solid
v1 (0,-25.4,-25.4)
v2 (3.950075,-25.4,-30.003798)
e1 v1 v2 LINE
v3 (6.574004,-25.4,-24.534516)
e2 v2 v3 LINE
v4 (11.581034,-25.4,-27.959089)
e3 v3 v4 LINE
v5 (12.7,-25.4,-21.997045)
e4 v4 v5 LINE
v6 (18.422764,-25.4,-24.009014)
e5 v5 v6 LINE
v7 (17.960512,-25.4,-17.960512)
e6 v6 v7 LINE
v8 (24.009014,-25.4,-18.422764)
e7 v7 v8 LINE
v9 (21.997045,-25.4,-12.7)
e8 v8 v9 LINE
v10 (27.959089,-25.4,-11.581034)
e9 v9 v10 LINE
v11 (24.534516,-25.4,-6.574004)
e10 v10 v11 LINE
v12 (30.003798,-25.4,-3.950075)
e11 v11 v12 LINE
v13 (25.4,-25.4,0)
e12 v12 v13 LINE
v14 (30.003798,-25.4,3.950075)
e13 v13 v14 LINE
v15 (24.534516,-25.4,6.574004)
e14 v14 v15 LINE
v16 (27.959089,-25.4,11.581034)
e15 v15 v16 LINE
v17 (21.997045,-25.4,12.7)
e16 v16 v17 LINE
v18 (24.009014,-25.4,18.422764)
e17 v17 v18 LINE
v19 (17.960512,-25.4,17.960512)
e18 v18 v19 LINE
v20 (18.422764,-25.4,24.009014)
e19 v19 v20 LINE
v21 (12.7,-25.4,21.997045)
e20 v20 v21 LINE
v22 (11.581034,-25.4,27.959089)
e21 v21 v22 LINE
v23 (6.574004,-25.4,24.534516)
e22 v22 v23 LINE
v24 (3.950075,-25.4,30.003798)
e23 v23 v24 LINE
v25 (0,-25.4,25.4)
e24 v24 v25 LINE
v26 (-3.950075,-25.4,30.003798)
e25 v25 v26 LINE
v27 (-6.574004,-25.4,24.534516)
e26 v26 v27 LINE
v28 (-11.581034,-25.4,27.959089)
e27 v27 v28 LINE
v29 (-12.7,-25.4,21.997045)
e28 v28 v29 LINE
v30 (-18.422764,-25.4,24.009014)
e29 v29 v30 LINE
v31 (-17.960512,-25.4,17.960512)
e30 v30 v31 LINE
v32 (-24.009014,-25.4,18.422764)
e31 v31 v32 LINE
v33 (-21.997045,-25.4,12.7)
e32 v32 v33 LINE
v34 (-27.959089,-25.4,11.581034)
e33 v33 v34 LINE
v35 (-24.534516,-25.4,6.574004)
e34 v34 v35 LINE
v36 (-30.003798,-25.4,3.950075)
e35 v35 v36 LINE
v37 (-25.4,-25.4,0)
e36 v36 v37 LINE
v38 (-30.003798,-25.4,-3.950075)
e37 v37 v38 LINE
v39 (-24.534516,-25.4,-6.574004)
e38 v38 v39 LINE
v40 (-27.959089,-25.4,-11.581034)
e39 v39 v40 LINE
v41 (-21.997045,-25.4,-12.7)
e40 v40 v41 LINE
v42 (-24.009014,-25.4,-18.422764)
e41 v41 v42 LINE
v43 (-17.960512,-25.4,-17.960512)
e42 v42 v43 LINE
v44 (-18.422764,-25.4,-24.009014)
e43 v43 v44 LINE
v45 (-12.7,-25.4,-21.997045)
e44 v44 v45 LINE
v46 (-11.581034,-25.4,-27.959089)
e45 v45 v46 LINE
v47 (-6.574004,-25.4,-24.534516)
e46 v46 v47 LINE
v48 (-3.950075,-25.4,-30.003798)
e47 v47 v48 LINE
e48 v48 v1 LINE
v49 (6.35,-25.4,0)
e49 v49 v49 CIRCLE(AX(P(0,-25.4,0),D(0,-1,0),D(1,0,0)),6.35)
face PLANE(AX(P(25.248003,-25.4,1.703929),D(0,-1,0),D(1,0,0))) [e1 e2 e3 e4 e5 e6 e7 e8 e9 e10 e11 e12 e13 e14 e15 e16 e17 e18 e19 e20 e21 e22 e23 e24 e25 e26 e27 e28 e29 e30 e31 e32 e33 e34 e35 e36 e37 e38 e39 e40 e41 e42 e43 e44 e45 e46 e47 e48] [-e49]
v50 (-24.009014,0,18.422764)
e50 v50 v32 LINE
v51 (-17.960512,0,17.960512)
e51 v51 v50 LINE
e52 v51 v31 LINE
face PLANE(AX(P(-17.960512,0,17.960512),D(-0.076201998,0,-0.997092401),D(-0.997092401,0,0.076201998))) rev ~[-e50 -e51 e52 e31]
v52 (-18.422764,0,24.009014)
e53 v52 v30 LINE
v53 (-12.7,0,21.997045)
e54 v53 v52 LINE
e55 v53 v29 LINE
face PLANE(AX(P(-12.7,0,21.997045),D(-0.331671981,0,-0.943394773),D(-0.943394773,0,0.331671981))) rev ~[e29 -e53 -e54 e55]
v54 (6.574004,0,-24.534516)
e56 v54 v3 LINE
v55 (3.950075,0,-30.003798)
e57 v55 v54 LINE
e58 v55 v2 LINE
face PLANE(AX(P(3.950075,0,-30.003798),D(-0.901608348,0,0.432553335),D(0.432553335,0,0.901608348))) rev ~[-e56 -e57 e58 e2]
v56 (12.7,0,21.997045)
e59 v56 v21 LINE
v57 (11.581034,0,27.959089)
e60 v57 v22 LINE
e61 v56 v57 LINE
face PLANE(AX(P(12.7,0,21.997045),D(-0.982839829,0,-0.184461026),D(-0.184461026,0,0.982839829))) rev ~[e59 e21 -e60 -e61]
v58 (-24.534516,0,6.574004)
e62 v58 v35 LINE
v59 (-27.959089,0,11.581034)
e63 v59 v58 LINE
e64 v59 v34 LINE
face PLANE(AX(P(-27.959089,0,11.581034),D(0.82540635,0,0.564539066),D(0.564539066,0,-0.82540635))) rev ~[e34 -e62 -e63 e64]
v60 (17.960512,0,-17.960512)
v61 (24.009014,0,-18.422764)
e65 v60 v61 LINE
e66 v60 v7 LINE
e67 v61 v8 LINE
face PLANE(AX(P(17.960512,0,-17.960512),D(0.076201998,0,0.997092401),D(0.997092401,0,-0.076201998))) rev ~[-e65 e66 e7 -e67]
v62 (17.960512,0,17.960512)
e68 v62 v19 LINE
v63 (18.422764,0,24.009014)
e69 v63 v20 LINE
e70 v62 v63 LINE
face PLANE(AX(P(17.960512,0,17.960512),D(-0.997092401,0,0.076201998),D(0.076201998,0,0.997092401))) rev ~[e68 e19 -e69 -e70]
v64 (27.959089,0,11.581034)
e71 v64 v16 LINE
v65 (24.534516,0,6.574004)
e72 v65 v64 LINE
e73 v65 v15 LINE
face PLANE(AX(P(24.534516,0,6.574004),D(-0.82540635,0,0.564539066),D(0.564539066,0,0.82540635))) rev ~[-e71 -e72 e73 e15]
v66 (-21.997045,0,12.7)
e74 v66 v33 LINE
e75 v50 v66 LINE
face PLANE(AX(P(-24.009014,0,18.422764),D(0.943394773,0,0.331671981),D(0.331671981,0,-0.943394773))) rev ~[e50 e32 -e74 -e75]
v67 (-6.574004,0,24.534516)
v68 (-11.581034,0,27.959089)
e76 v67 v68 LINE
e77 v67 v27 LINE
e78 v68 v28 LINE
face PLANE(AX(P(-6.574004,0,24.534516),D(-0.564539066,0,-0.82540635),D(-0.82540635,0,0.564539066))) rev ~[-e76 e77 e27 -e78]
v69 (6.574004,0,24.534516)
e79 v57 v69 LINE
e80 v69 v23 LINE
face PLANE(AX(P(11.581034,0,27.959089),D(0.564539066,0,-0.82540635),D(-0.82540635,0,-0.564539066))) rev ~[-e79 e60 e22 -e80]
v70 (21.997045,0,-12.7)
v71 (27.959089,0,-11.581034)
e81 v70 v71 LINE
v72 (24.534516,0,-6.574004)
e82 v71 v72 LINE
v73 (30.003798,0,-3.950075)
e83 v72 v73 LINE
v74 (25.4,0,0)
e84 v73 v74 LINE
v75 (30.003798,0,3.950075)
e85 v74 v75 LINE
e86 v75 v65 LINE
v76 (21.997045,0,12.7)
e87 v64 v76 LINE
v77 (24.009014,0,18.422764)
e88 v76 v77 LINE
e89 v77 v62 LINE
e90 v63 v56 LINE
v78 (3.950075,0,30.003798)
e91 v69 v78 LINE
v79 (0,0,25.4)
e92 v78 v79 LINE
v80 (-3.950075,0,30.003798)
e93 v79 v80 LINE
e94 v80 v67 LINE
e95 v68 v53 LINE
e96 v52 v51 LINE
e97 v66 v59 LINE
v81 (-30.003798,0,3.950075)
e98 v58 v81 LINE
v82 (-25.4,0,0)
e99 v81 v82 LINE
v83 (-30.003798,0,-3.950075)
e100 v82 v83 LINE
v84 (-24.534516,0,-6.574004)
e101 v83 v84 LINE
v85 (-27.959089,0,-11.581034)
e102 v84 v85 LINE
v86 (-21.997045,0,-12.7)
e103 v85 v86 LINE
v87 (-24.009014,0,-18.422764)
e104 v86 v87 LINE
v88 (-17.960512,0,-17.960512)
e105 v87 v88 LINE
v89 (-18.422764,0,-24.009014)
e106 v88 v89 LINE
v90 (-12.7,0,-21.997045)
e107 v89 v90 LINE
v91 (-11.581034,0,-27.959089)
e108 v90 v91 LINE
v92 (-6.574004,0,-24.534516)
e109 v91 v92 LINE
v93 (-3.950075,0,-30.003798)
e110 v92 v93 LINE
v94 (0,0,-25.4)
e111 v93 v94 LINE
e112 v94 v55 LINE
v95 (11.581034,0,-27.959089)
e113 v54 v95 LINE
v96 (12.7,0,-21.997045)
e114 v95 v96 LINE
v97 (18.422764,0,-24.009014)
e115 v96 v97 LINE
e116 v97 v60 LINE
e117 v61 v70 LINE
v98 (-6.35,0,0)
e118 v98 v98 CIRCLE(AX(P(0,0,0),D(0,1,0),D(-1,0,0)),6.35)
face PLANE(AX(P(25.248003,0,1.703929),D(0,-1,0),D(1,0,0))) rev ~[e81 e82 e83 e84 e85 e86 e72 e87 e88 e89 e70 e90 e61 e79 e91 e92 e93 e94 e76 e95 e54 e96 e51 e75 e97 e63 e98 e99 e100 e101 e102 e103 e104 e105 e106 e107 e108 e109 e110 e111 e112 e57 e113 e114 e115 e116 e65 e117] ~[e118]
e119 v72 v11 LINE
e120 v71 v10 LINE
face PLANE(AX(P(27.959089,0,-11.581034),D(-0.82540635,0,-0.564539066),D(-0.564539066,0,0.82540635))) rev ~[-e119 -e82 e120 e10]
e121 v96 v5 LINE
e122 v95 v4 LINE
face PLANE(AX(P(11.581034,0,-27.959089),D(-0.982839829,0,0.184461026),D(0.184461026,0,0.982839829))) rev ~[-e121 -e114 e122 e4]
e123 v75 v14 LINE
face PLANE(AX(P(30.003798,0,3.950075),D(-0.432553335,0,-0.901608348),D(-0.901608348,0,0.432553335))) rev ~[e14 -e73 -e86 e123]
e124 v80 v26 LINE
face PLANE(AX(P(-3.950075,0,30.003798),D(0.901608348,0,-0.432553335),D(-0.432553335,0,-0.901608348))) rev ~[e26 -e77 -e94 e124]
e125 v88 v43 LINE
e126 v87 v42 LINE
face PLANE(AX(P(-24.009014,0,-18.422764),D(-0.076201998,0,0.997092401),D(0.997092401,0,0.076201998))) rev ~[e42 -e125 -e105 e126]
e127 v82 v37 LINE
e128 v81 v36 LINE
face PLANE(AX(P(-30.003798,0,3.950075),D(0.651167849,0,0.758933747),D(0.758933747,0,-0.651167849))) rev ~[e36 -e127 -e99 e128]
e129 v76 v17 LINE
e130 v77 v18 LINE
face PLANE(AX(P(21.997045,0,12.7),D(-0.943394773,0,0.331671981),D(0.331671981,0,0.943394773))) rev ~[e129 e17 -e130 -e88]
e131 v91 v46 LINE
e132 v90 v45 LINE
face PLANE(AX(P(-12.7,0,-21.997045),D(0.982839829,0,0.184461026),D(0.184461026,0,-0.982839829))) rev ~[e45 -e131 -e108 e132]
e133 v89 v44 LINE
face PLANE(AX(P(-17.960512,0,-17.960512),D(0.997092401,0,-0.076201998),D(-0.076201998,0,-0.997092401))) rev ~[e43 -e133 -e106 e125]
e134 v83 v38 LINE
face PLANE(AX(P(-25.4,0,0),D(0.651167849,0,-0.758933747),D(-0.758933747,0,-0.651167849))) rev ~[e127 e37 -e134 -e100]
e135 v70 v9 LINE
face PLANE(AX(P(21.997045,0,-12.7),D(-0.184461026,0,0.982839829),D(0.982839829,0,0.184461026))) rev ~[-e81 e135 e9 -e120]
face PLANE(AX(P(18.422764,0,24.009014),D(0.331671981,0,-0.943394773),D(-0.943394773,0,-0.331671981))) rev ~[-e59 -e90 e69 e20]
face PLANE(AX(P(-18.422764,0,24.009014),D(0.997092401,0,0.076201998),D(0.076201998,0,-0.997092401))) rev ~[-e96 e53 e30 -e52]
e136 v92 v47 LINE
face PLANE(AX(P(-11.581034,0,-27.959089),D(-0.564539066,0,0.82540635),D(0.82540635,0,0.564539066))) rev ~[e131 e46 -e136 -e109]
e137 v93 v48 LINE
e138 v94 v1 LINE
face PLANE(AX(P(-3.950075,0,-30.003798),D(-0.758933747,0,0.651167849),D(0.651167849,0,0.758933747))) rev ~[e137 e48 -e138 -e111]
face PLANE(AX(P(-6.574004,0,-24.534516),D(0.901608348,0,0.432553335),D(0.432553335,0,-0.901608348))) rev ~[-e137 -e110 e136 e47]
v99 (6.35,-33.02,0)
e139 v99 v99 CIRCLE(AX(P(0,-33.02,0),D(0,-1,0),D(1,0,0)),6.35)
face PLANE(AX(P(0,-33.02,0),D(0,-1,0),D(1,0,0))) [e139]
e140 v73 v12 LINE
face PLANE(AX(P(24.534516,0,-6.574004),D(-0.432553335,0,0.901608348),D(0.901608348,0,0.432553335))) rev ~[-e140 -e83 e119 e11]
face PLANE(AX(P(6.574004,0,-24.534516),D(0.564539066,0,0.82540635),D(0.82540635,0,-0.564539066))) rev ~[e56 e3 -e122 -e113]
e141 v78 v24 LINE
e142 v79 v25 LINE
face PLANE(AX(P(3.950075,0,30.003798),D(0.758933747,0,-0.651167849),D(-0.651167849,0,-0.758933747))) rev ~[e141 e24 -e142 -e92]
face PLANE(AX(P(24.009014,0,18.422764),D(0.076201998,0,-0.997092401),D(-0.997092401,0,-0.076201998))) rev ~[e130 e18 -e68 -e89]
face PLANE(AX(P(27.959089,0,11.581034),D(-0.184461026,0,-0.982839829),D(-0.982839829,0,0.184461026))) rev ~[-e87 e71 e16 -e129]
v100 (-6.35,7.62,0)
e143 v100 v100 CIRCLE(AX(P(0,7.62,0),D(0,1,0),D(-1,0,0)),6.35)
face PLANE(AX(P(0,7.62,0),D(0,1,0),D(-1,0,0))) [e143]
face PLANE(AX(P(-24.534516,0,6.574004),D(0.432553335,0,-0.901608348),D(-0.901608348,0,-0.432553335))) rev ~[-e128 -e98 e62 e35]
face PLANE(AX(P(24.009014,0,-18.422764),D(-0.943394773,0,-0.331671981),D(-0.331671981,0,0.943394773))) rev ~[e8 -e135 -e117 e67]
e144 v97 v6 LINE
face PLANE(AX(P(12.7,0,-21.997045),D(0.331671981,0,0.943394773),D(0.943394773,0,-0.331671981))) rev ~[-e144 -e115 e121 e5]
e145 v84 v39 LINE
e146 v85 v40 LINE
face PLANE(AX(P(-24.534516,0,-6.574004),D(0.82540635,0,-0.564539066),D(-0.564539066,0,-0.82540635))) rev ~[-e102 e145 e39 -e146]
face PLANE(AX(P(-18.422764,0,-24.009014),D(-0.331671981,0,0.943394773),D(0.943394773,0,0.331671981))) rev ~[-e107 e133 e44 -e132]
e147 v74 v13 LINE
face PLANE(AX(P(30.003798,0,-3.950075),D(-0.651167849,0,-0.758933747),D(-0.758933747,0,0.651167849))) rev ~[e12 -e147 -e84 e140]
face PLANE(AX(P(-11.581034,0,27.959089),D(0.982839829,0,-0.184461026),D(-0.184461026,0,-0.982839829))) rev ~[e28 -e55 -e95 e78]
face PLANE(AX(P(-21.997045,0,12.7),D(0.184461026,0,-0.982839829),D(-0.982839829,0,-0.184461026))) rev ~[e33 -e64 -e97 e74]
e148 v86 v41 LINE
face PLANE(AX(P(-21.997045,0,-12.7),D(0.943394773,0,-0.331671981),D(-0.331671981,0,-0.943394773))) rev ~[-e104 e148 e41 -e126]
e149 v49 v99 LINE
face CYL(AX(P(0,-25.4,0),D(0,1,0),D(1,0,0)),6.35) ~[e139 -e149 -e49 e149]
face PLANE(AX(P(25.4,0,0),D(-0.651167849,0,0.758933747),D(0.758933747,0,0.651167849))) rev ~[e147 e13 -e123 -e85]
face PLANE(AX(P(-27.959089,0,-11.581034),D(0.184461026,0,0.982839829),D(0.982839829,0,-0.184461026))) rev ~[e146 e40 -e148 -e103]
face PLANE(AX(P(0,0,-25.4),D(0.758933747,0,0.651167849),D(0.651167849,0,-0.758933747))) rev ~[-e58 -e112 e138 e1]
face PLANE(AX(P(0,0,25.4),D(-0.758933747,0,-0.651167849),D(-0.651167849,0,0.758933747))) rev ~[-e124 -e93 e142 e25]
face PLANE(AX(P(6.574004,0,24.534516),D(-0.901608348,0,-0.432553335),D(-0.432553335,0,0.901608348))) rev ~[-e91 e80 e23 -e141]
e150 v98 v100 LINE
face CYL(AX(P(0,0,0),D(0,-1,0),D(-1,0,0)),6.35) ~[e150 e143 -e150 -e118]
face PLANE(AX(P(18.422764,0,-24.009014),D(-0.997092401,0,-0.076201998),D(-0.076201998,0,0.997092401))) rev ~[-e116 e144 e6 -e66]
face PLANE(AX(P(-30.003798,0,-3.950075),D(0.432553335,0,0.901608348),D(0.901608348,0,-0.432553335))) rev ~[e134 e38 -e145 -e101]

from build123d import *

# Parameters (mm, degrees)
F1_DEPTH = 25.4
F2_R     = 6.35
F3_DEPTH = 7.62
F4_R     = 6.35
F5_DEPTH = 7.62


with BuildPart() as f1:
    # F0 (on Front) → F1 (new body)
    with BuildSketch(Plane.XZ):
        with BuildLine():
            Line((24.9672579939, 3.2870018728), (25.4, 0))
            ThreePointArc((25.4, 0), (25.3456166503, 1.6612394824), (25.1826994789, 3.3153652824))
            Line((25.1826994789, 3.3153652824), (24.9672579939, 3.2870018728))
        make_face()
        with BuildLine():
            Line((30.0037978897, -3.9500749293), (25.4, 0))
            ThreePointArc((25.4, 0), (25.3456166503, -1.6612394824), (25.1826994789, -3.3153652824))
            Line((25.1826994789, -3.3153652824), (30.0037978897, -3.9500749293))
        make_face()
        Polygon((24.9672579939, -3.2870018728), (25.4, 0), (0, 0), (24.5345159877, -6.5740037456), align=None)
        with BuildLine():
            ThreePointArc((25.1826994789, -3.3153652824), (25.3456166503, -1.6612394824), (25.4, 0))
            Line((25.4, 0), (24.9672579939, -3.2870018728))
            Line((24.9672579939, -3.2870018728), (25.1826994789, -3.3153652824))
        make_face()
        Polygon((0, 0), (25.4, 0), (24.9672579939, 3.2870018728), (24.5345159877, 6.5740037456), align=None)
        with BuildLine():
            ThreePointArc((25.1826994789, 3.3153652824), (25.3456166503, 1.6612394824), (25.4, 0))
            Line((25.4, 0), (30.0037978897, 3.9500749293))
            Line((30.0037978897, 3.9500749293), (25.1826994789, 3.3153652824))
        make_face()
        with BuildLine():
            Line((24.9672579939, 3.2870018728), (25.1826994789, 3.3153652824))
            ThreePointArc((25.1826994789, 3.3153652824), (24.9119461222, 4.9552941792), (24.5345159877, 6.5740037456))
            Line((24.5345159877, 6.5740037456), (24.9672579939, 3.2870018728))
        make_face()
        with BuildLine():
            ThreePointArc((24.5345159877, 6.5740037456), (24.9119461222, 4.9552941792), (25.1826994789, 3.3153652824))
            Line((25.1826994789, 3.3153652824), (30.0037978897, 3.9500749293))
            Line((30.0037978897, 3.9500749293), (24.5345159877, 6.5740037456))
        make_face()
        with BuildLine():
            Line((30.0037978897, -3.9500749293), (25.1826994789, -3.3153652824))
            ThreePointArc((25.1826994789, -3.3153652824), (24.9119461222, -4.9552941792), (24.5345159877, -6.5740037456))
            Line((24.5345159877, -6.5740037456), (30.0037978897, -3.9500749293))
        make_face()
        with BuildLine():
            ThreePointArc((24.5345159877, -6.5740037456), (24.9119461222, -4.9552941792), (25.1826994789, -3.3153652824))
            Line((25.1826994789, -3.3153652824), (24.9672579939, -3.2870018728))
            Line((24.9672579939, -3.2870018728), (24.5345159877, -6.5740037456))
        make_face()
        Polygon((-6.5740037456, 24.5345159877), (0, 0), (0, 25.4), (-3.2870018728, 24.9672579939), align=None)
        Polygon((-24.5345159877, -6.5740037456), (0, 0), (-25.4, 0), (-24.9672579939, -3.2870018728), align=None)
        Polygon((6.5740037456, -24.5345159877), (0, 0), (0, -25.4), (3.2870018728, -24.9672579939), align=None)
        Polygon((21.9970452561, 12.7), (0, 0), (24.5345159877, 6.5740037456), (23.2657806219, 9.6370018728), align=None)
        Polygon((17.9605122421, 17.9605122421), (0, 0), (21.9970452561, 12.7), (19.9787787491, 15.3302561211), align=None)
        Polygon((12.7, 21.9970452561), (0, 0), (17.9605122421, 17.9605122421), (15.3302561211, 19.9787787491), align=None)
        Polygon((6.5740037456, 24.5345159877), (0, 0), (12.7, 21.9970452561), (9.6370018728, 23.2657806219), align=None)
        Polygon((0, 25.4), (0, 0), (6.5740037456, 24.5345159877), (3.2870018728, 24.9672579939), align=None)
        Polygon((0, -25.4), (0, 0), (-6.5740037456, -24.5345159877), (-3.2870018728, -24.9672579939), align=None)
        Polygon((24.5345159877, -6.5740037456), (0, 0), (21.9970452561, -12.7), (23.2657806219, -9.6370018728), align=None)
        Polygon((21.9970452561, -12.7), (0, 0), (17.9605122421, -17.9605122421), (19.9787787491, -15.3302561211), align=None)
        Polygon((17.9605122421, -17.9605122421), (0, 0), (12.7, -21.9970452561), (15.3302561211, -19.9787787491), align=None)
        Polygon((12.7, -21.9970452561), (0, 0), (6.5740037456, -24.5345159877), (9.6370018728, -23.2657806219), align=None)
        Polygon((-6.5740037456, -24.5345159877), (0, 0), (-12.7, -21.9970452561), (-9.6370018728, -23.2657806219), align=None)
        Polygon((-12.7, -21.9970452561), (0, 0), (-17.9605122421, -17.9605122421), (-15.3302561211, -19.9787787491), align=None)
        Polygon((-17.9605122421, -17.9605122421), (0, 0), (-21.9970452561, -12.7), (-19.9787787491, -15.3302561211), align=None)
        Polygon((-21.9970452561, -12.7), (0, 0), (-24.5345159877, -6.5740037456), (-23.2657806219, -9.6370018728), align=None)
        Polygon((-25.4, 0), (0, 0), (-24.5345159877, 6.5740037456), (-24.9672579939, 3.2870018728), align=None)
        Polygon((-24.5345159877, 6.5740037456), (0, 0), (-21.9970452561, 12.7), (-23.2657806219, 9.6370018728), align=None)
        Polygon((-21.9970452561, 12.7), (0, 0), (-17.9605122421, 17.9605122421), (-19.9787787491, 15.3302561211), align=None)
        Polygon((-17.9605122421, 17.9605122421), (0, 0), (-12.7, 21.9970452561), (-15.3302561211, 19.9787787491), align=None)
        Polygon((-12.7, 21.9970452561), (0, 0), (-6.5740037456, 24.5345159877), (-9.6370018728, 23.2657806219), align=None)
        with BuildLine():
            Line((23.2657806219, 9.6370018728), (24.5345159877, 6.5740037456))
            ThreePointArc((24.5345159877, 6.5740037456), (24.0520252892, 8.1645624187), (23.4665401258, 9.7201591821))
            Line((23.4665401258, 9.7201591821), (23.2657806219, 9.6370018728))
        make_face()
        with BuildLine():
            ThreePointArc((23.4665401258, 9.7201591821), (24.0520252892, 8.1645624187), (24.5345159877, 6.5740037456))
            Line((24.5345159877, 6.5740037456), (27.9590886471, 11.5810337092))
            Line((27.9590886471, 11.5810337092), (23.4665401258, 9.7201591821))
        make_face()
        with BuildLine():
            Line((27.9590886471, -11.5810337092), (24.5345159877, -6.5740037456))
            ThreePointArc((24.5345159877, -6.5740037456), (24.0520252892, -8.1645624187), (23.4665401258, -9.7201591821))
            Line((23.4665401258, -9.7201591821), (27.9590886471, -11.5810337092))
        make_face()
        with BuildLine():
            ThreePointArc((23.4665401258, -9.7201591821), (24.0520252892, -8.1645624187), (24.5345159877, -6.5740037456))
            Line((24.5345159877, -6.5740037456), (23.2657806219, -9.6370018728))
            Line((23.2657806219, -9.6370018728), (23.4665401258, -9.7201591821))
        make_face()
        with BuildLine():
            Line((3.9500749293, 30.0037978897), (0, 25.4))
            ThreePointArc((0, 25.4), (1.6612394824, 25.3456166503), (3.3153652824, 25.1826994789))
            Line((3.3153652824, 25.1826994789), (3.9500749293, 30.0037978897))
        make_face()
        with BuildLine():
            Line((-3.2870018728, 24.9672579939), (0, 25.4))
            ThreePointArc((0, 25.4), (-1.6612394824, 25.3456166503), (-3.3153652824, 25.1826994789))
            Line((-3.3153652824, 25.1826994789), (-3.2870018728, 24.9672579939))
        make_face()
        with BuildLine():
            ThreePointArc((3.3153652824, 25.1826994789), (1.6612394824, 25.3456166503), (0, 25.4))
            Line((0, 25.4), (3.2870018728, 24.9672579939))
            Line((3.2870018728, 24.9672579939), (3.3153652824, 25.1826994789))
        make_face()
        with BuildLine():
            ThreePointArc((-3.3153652824, 25.1826994789), (-1.6612394824, 25.3456166503), (0, 25.4))
            Line((0, 25.4), (-3.9500749293, 30.0037978897))
            Line((-3.9500749293, 30.0037978897), (-3.3153652824, 25.1826994789))
        make_face()
        with BuildLine():
            Line((-30.0037978897, 3.9500749293), (-25.4, 0))
            ThreePointArc((-25.4, 0), (-25.3456166503, 1.6612394824), (-25.1826994789, 3.3153652824))
            Line((-25.1826994789, 3.3153652824), (-30.0037978897, 3.9500749293))
        make_face()
        with BuildLine():
            Line((-24.9672579939, -3.2870018728), (-25.4, 0))
            ThreePointArc((-25.4, 0), (-25.3456166503, -1.6612394824), (-25.1826994789, -3.3153652824))
            Line((-25.1826994789, -3.3153652824), (-24.9672579939, -3.2870018728))
        make_face()
        with BuildLine():
            ThreePointArc((-25.1826994789, 3.3153652824), (-25.3456166503, 1.6612394824), (-25.4, 0))
            Line((-25.4, 0), (-24.9672579939, 3.2870018728))
            Line((-24.9672579939, 3.2870018728), (-25.1826994789, 3.3153652824))
        make_face()
        with BuildLine():
            ThreePointArc((-25.1826994789, -3.3153652824), (-25.3456166503, -1.6612394824), (-25.4, 0))
            Line((-25.4, 0), (-30.0037978897, -3.9500749293))
            Line((-30.0037978897, -3.9500749293), (-25.1826994789, -3.3153652824))
        make_face()
        with BuildLine():
            Line((-3.9500749293, -30.0037978896), (0, -25.4))
            ThreePointArc((0, -25.4), (-1.6612394824, -25.3456166503), (-3.3153652824, -25.1826994789))
            Line((-3.3153652824, -25.1826994789), (-3.9500749293, -30.0037978896))
        make_face()
        with BuildLine():
            Line((3.2870018728, -24.9672579939), (0, -25.4))
            ThreePointArc((0, -25.4), (1.6612394824, -25.3456166503), (3.3153652824, -25.1826994789))
            Line((3.3153652824, -25.1826994789), (3.2870018728, -24.9672579939))
        make_face()
        with BuildLine():
            ThreePointArc((-3.3153652824, -25.1826994789), (-1.6612394824, -25.3456166503), (0, -25.4))
            Line((0, -25.4), (-3.2870018728, -24.9672579939))
            Line((-3.2870018728, -24.9672579939), (-3.3153652824, -25.1826994789))
        make_face()
        with BuildLine():
            ThreePointArc((3.3153652824, -25.1826994789), (1.6612394824, -25.3456166503), (0, -25.4))
            Line((0, -25.4), (3.9500749293, -30.0037978897))
            Line((3.9500749293, -30.0037978897), (3.3153652824, -25.1826994789))
        make_face()
        with BuildLine():
            Line((27.9590886471, 11.5810337092), (21.9970452561, 12.7))
            ThreePointArc((21.9970452561, 12.7), (22.7805676349, 11.2341327316), (23.4665401258, 9.7201591821))
            Line((23.4665401258, 9.7201591821), (27.9590886471, 11.5810337092))
        make_face()
        with BuildLine():
            Line((19.9787787491, 15.3302561211), (21.9970452561, 12.7))
            ThreePointArc((21.9970452561, 12.7), (21.1193281525, 14.1114839187), (20.1511748434, 15.4625402968))
            Line((20.1511748434, 15.4625402968), (19.9787787491, 15.3302561211))
        make_face()
        with BuildLine():
            ThreePointArc((23.4665401258, 9.7201591821), (22.7805676349, 11.2341327316), (21.9970452561, 12.7))
            Line((21.9970452561, 12.7), (23.2657806219, 9.6370018728))
            Line((23.2657806219, 9.6370018728), (23.4665401258, 9.7201591821))
        make_face()
        with BuildLine():
            ThreePointArc((20.1511748434, 15.4625402968), (21.1193281525, 14.1114839187), (21.9970452561, 12.7))
            Line((21.9970452561, 12.7), (24.0090137178, 18.4227641804))
            Line((24.0090137178, 18.4227641804), (20.1511748434, 15.4625402968))
        make_face()
        with BuildLine():
            Line((24.0090137178, 18.4227641804), (17.9605122421, 17.9605122421))
            ThreePointArc((17.9605122421, 17.9605122421), (19.09673111, 16.7473837035), (20.1511748434, 15.4625402968))
            Line((20.1511748434, 15.4625402968), (24.0090137178, 18.4227641804))
        make_face()
        with BuildLine():
            Line((15.3302561211, 19.9787787491), (17.9605122421, 17.9605122421))
            ThreePointArc((17.9605122421, 17.9605122421), (16.7473837035, 19.09673111), (15.4625402968, 20.1511748434))
            Line((15.4625402968, 20.1511748434), (15.3302561211, 19.9787787491))
        make_face()
        with BuildLine():
            ThreePointArc((20.1511748434, 15.4625402968), (19.09673111, 16.7473837035), (17.9605122421, 17.9605122421))
            Line((17.9605122421, 17.9605122421), (19.9787787491, 15.3302561211))
            Line((19.9787787491, 15.3302561211), (20.1511748434, 15.4625402968))
        make_face()
        with BuildLine():
            ThreePointArc((15.4625402968, 20.1511748434), (16.7473837035, 19.09673111), (17.9605122421, 17.9605122421))
            Line((17.9605122421, 17.9605122421), (18.4227641804, 24.0090137178))
            Line((18.4227641804, 24.0090137178), (15.4625402968, 20.1511748434))
        make_face()
        with BuildLine():
            Line((18.4227641804, 24.0090137178), (12.7, 21.9970452561))
            ThreePointArc((12.7, 21.9970452561), (14.1114839187, 21.1193281525), (15.4625402968, 20.1511748434))
            Line((15.4625402968, 20.1511748434), (18.4227641804, 24.0090137178))
        make_face()
        with BuildLine():
            Line((9.6370018728, 23.2657806219), (12.7, 21.9970452561))
            ThreePointArc((12.7, 21.9970452561), (11.2341327316, 22.7805676349), (9.7201591821, 23.4665401258))
            Line((9.7201591821, 23.4665401258), (9.6370018728, 23.2657806219))
        make_face()
        with BuildLine():
            ThreePointArc((15.4625402968, 20.1511748434), (14.1114839187, 21.1193281525), (12.7, 21.9970452561))
            Line((12.7, 21.9970452561), (15.3302561211, 19.9787787491))
            Line((15.3302561211, 19.9787787491), (15.4625402968, 20.1511748434))
        make_face()
        with BuildLine():
            ThreePointArc((9.7201591821, 23.4665401258), (11.2341327316, 22.7805676349), (12.7, 21.9970452561))
            Line((12.7, 21.9970452561), (11.5810337092, 27.9590886471))
            Line((11.5810337092, 27.9590886471), (9.7201591821, 23.4665401258))
        make_face()
        with BuildLine():
            Line((11.5810337092, 27.9590886471), (6.5740037456, 24.5345159877))
            ThreePointArc((6.5740037456, 24.5345159877), (8.1645624187, 24.0520252892), (9.7201591821, 23.4665401258))
            Line((9.7201591821, 23.4665401258), (11.5810337092, 27.9590886471))
        make_face()
        with BuildLine():
            Line((3.2870018728, 24.9672579939), (6.5740037456, 24.5345159877))
            ThreePointArc((6.5740037456, 24.5345159877), (4.9552941792, 24.9119461222), (3.3153652824, 25.1826994789))
            Line((3.3153652824, 25.1826994789), (3.2870018728, 24.9672579939))
        make_face()
        with BuildLine():
            ThreePointArc((9.7201591821, 23.4665401258), (8.1645624187, 24.0520252892), (6.5740037456, 24.5345159877))
            Line((6.5740037456, 24.5345159877), (9.6370018728, 23.2657806219))
            Line((9.6370018728, 23.2657806219), (9.7201591821, 23.4665401258))
        make_face()
        with BuildLine():
            ThreePointArc((3.3153652824, 25.1826994789), (4.9552941792, 24.9119461222), (6.5740037456, 24.5345159877))
            Line((6.5740037456, 24.5345159877), (3.9500749293, 30.0037978897))
            Line((3.9500749293, 30.0037978897), (3.3153652824, 25.1826994789))
        make_face()
        with BuildLine():
            Line((-11.5810337092, -27.9590886471), (-6.5740037456, -24.5345159877))
            ThreePointArc((-6.5740037456, -24.5345159877), (-8.1645624187, -24.0520252892), (-9.7201591821, -23.4665401258))
            Line((-9.7201591821, -23.4665401258), (-11.5810337092, -27.9590886471))
        make_face()
        with BuildLine():
            Line((-3.2870018728, -24.9672579939), (-6.5740037456, -24.5345159877))
            ThreePointArc((-6.5740037456, -24.5345159877), (-4.9552941792, -24.9119461222), (-3.3153652824, -25.1826994789))
            Line((-3.3153652824, -25.1826994789), (-3.2870018728, -24.9672579939))
        make_face()
        with BuildLine():
            ThreePointArc((-9.7201591821, -23.4665401258), (-8.1645624187, -24.0520252892), (-6.5740037456, -24.5345159877))
            Line((-6.5740037456, -24.5345159877), (-9.6370018728, -23.2657806219))
            Line((-9.6370018728, -23.2657806219), (-9.7201591821, -23.4665401258))
        make_face()
        with BuildLine():
            ThreePointArc((-3.3153652824, -25.1826994789), (-4.9552941792, -24.9119461222), (-6.5740037456, -24.5345159877))
            Line((-6.5740037456, -24.5345159877), (-3.9500749293, -30.0037978897))
            Line((-3.9500749293, -30.0037978896), (-3.3153652824, -25.1826994789))
        make_face()
        with BuildLine():
            Line((24.0090137178, -18.4227641804), (21.9970452561, -12.7))
            ThreePointArc((21.9970452561, -12.7), (21.1193281525, -14.1114839187), (20.1511748434, -15.4625402968))
            Line((20.1511748434, -15.4625402968), (24.0090137178, -18.4227641804))
        make_face()
        with BuildLine():
            Line((23.2657806219, -9.6370018728), (21.9970452561, -12.7))
            ThreePointArc((21.9970452561, -12.7), (22.7805676349, -11.2341327316), (23.4665401258, -9.7201591821))
            Line((23.4665401258, -9.7201591821), (23.2657806219, -9.6370018728))
        make_face()
        with BuildLine():
            ThreePointArc((20.1511748434, -15.4625402968), (21.1193281525, -14.1114839187), (21.9970452561, -12.7))
            Line((21.9970452561, -12.7), (19.9787787491, -15.3302561211))
            Line((19.9787787491, -15.3302561211), (20.1511748434, -15.4625402968))
        make_face()
        with BuildLine():
            ThreePointArc((23.4665401258, -9.7201591821), (22.7805676349, -11.2341327316), (21.9970452561, -12.7))
            Line((21.9970452561, -12.7), (27.9590886471, -11.5810337092))
            Line((27.9590886471, -11.5810337092), (23.4665401258, -9.7201591821))
        make_face()
        with BuildLine():
            Line((18.4227641804, -24.0090137178), (17.9605122421, -17.9605122421))
            ThreePointArc((17.9605122421, -17.9605122421), (16.7473837035, -19.09673111), (15.4625402968, -20.1511748434))
            Line((15.4625402968, -20.1511748434), (18.4227641804, -24.0090137178))
        make_face()
        with BuildLine():
            Line((19.9787787491, -15.3302561211), (17.9605122421, -17.9605122421))
            ThreePointArc((17.9605122421, -17.9605122421), (19.09673111, -16.7473837035), (20.1511748434, -15.4625402968))
            Line((20.1511748434, -15.4625402968), (19.9787787491, -15.3302561211))
        make_face()
        with BuildLine():
            ThreePointArc((15.4625402968, -20.1511748434), (16.7473837035, -19.09673111), (17.9605122421, -17.9605122421))
            Line((17.9605122421, -17.9605122421), (15.3302561211, -19.9787787491))
            Line((15.3302561211, -19.9787787491), (15.4625402968, -20.1511748434))
        make_face()
        with BuildLine():
            ThreePointArc((20.1511748434, -15.4625402968), (19.09673111, -16.7473837035), (17.9605122421, -17.9605122421))
            Line((17.9605122421, -17.9605122421), (24.0090137178, -18.4227641804))
            Line((24.0090137178, -18.4227641804), (20.1511748434, -15.4625402968))
        make_face()
        with BuildLine():
            Line((11.5810337092, -27.9590886471), (12.7, -21.9970452561))
            ThreePointArc((12.7, -21.9970452561), (11.2341327316, -22.7805676349), (9.7201591821, -23.4665401258))
            Line((9.7201591821, -23.4665401258), (11.5810337092, -27.9590886471))
        make_face()
        with BuildLine():
            Line((15.3302561211, -19.9787787491), (12.7, -21.9970452561))
            ThreePointArc((12.7, -21.9970452561), (14.1114839187, -21.1193281525), (15.4625402968, -20.1511748434))
            Line((15.4625402968, -20.1511748434), (15.3302561211, -19.9787787491))
        make_face()
        with BuildLine():
            ThreePointArc((9.7201591821, -23.4665401258), (11.2341327316, -22.7805676349), (12.7, -21.9970452561))
            Line((12.7, -21.9970452561), (9.6370018728, -23.2657806219))
            Line((9.6370018728, -23.2657806219), (9.7201591821, -23.4665401258))
        make_face()
        with BuildLine():
            ThreePointArc((15.4625402968, -20.1511748434), (14.1114839187, -21.1193281525), (12.7, -21.9970452561))
            Line((12.7, -21.9970452561), (18.4227641804, -24.0090137178))
            Line((18.4227641804, -24.0090137178), (15.4625402968, -20.1511748434))
        make_face()
        with BuildLine():
            Line((3.9500749293, -30.0037978897), (6.5740037456, -24.5345159877))
            ThreePointArc((6.5740037456, -24.5345159877), (4.9552941792, -24.9119461222), (3.3153652824, -25.1826994789))
            Line((3.3153652824, -25.1826994789), (3.9500749293, -30.0037978897))
        make_face()
        with BuildLine():
            Line((9.6370018728, -23.2657806219), (6.5740037456, -24.5345159877))
            ThreePointArc((6.5740037456, -24.5345159877), (8.1645624187, -24.0520252892), (9.7201591821, -23.4665401258))
            Line((9.7201591821, -23.4665401258), (9.6370018728, -23.2657806219))
        make_face()
        with BuildLine():
            ThreePointArc((3.3153652824, -25.1826994789), (4.9552941792, -24.9119461222), (6.5740037456, -24.5345159877))
            Line((6.5740037456, -24.5345159877), (3.2870018728, -24.9672579939))
            Line((3.2870018728, -24.9672579939), (3.3153652824, -25.1826994789))
        make_face()
        with BuildLine():
            ThreePointArc((9.7201591821, -23.4665401258), (8.1645624187, -24.0520252892), (6.5740037456, -24.5345159877))
            Line((6.5740037456, -24.5345159877), (11.5810337092, -27.9590886471))
            Line((11.5810337092, -27.9590886471), (9.7201591821, -23.4665401258))
        make_face()
        with BuildLine():
            Line((-18.4227641804, -24.0090137178), (-12.7, -21.9970452561))
            ThreePointArc((-12.7, -21.9970452561), (-14.1114839187, -21.1193281525), (-15.4625402968, -20.1511748434))
            Line((-15.4625402968, -20.1511748434), (-18.4227641804, -24.0090137178))
        make_face()
        with BuildLine():
            Line((-9.6370018728, -23.2657806219), (-12.7, -21.9970452561))
            ThreePointArc((-12.7, -21.9970452561), (-11.2341327316, -22.7805676349), (-9.7201591821, -23.4665401258))
            Line((-9.7201591821, -23.4665401258), (-9.6370018728, -23.2657806219))
        make_face()
        with BuildLine():
            ThreePointArc((-15.4625402968, -20.1511748434), (-14.1114839187, -21.1193281525), (-12.7, -21.9970452561))
            Line((-12.7, -21.9970452561), (-15.3302561211, -19.9787787491))
            Line((-15.3302561211, -19.9787787491), (-15.4625402968, -20.1511748434))
        make_face()
        with BuildLine():
            ThreePointArc((-9.7201591821, -23.4665401258), (-11.2341327316, -22.7805676349), (-12.7, -21.9970452561))
            Line((-12.7, -21.9970452561), (-11.5810337092, -27.9590886471))
            Line((-11.5810337092, -27.9590886471), (-9.7201591821, -23.4665401258))
        make_face()
        with BuildLine():
            Line((-24.0090137178, -18.4227641804), (-17.9605122421, -17.9605122421))
            ThreePointArc((-17.9605122421, -17.9605122421), (-19.09673111, -16.7473837035), (-20.1511748434, -15.4625402968))
            Line((-20.1511748434, -15.4625402968), (-24.0090137178, -18.4227641804))
        make_face()
        with BuildLine():
            Line((-15.3302561211, -19.9787787491), (-17.9605122421, -17.9605122421))
            ThreePointArc((-17.9605122421, -17.9605122421), (-16.7473837035, -19.09673111), (-15.4625402968, -20.1511748434))
            Line((-15.4625402968, -20.1511748434), (-15.3302561211, -19.9787787491))
        make_face()
        with BuildLine():
            ThreePointArc((-20.1511748434, -15.4625402968), (-19.09673111, -16.7473837035), (-17.9605122421, -17.9605122421))
            Line((-17.9605122421, -17.9605122421), (-19.9787787491, -15.3302561211))
            Line((-19.9787787491, -15.3302561211), (-20.1511748434, -15.4625402968))
        make_face()
        with BuildLine():
            ThreePointArc((-15.4625402968, -20.1511748434), (-16.7473837035, -19.09673111), (-17.9605122421, -17.9605122421))
            Line((-17.9605122421, -17.9605122421), (-18.4227641804, -24.0090137178))
            Line((-18.4227641804, -24.0090137178), (-15.4625402968, -20.1511748434))
        make_face()
        with BuildLine():
            Line((-27.9590886471, -11.5810337092), (-21.9970452561, -12.7))
            ThreePointArc((-21.9970452561, -12.7), (-22.7805676349, -11.2341327316), (-23.4665401258, -9.7201591821))
            Line((-23.4665401258, -9.7201591821), (-27.9590886471, -11.5810337092))
        make_face()
        with BuildLine():
            Line((-19.9787787491, -15.3302561211), (-21.9970452561, -12.7))
            ThreePointArc((-21.9970452561, -12.7), (-21.1193281525, -14.1114839187), (-20.1511748434, -15.4625402968))
            Line((-20.1511748434, -15.4625402968), (-19.9787787491, -15.3302561211))
        make_face()
        with BuildLine():
            ThreePointArc((-23.4665401258, -9.7201591821), (-22.7805676349, -11.2341327316), (-21.9970452561, -12.7))
            Line((-21.9970452561, -12.7), (-23.2657806219, -9.6370018728))
            Line((-23.2657806219, -9.6370018728), (-23.4665401258, -9.7201591821))
        make_face()
        with BuildLine():
            ThreePointArc((-20.1511748434, -15.4625402968), (-21.1193281525, -14.1114839187), (-21.9970452561, -12.7))
            Line((-21.9970452561, -12.7), (-24.0090137178, -18.4227641804))
            Line((-24.0090137178, -18.4227641804), (-20.1511748434, -15.4625402968))
        make_face()
        with BuildLine():
            Line((-30.0037978897, -3.9500749293), (-24.5345159877, -6.5740037456))
            ThreePointArc((-24.5345159877, -6.5740037456), (-24.9119461222, -4.9552941792), (-25.1826994789, -3.3153652824))
            Line((-25.1826994789, -3.3153652824), (-30.0037978897, -3.9500749293))
        make_face()
        with BuildLine():
            Line((-23.2657806219, -9.6370018728), (-24.5345159877, -6.5740037456))
            ThreePointArc((-24.5345159877, -6.5740037456), (-24.0520252892, -8.1645624187), (-23.4665401258, -9.7201591821))
            Line((-23.4665401258, -9.7201591821), (-23.2657806219, -9.6370018728))
        make_face()
        with BuildLine():
            ThreePointArc((-25.1826994789, -3.3153652824), (-24.9119461222, -4.9552941792), (-24.5345159877, -6.5740037456))
            Line((-24.5345159877, -6.5740037456), (-24.9672579939, -3.2870018728))
            Line((-24.9672579939, -3.2870018728), (-25.1826994789, -3.3153652824))
        make_face()
        with BuildLine():
            ThreePointArc((-23.4665401258, -9.7201591821), (-24.0520252892, -8.1645624187), (-24.5345159877, -6.5740037456))
            Line((-24.5345159877, -6.5740037456), (-27.9590886471, -11.5810337092))
            Line((-27.9590886471, -11.5810337092), (-23.4665401258, -9.7201591821))
        make_face()
        with BuildLine():
            Line((-27.9590886471, 11.5810337092), (-24.5345159877, 6.5740037456))
            ThreePointArc((-24.5345159877, 6.5740037456), (-24.0520252892, 8.1645624187), (-23.4665401258, 9.7201591821))
            Line((-23.4665401258, 9.7201591821), (-27.9590886471, 11.5810337092))
        make_face()
        with BuildLine():
            Line((-24.9672579939, 3.2870018728), (-24.5345159877, 6.5740037456))
            ThreePointArc((-24.5345159877, 6.5740037456), (-24.9119461222, 4.9552941792), (-25.1826994789, 3.3153652824))
            Line((-25.1826994789, 3.3153652824), (-24.9672579939, 3.2870018728))
        make_face()
        with BuildLine():
            ThreePointArc((-23.4665401258, 9.7201591821), (-24.0520252892, 8.1645624187), (-24.5345159877, 6.5740037456))
            Line((-24.5345159877, 6.5740037456), (-23.2657806219, 9.6370018728))
            Line((-23.2657806219, 9.6370018728), (-23.4665401258, 9.7201591821))
        make_face()
        with BuildLine():
            ThreePointArc((-25.1826994789, 3.3153652824), (-24.9119461222, 4.9552941792), (-24.5345159877, 6.5740037456))
            Line((-24.5345159877, 6.5740037456), (-30.0037978897, 3.9500749293))
            Line((-30.0037978897, 3.9500749293), (-25.1826994789, 3.3153652824))
        make_face()
        with BuildLine():
            Line((-24.0090137178, 18.4227641804), (-21.9970452561, 12.7))
            ThreePointArc((-21.9970452561, 12.7), (-21.1193281525, 14.1114839187), (-20.1511748434, 15.4625402968))
            Line((-20.1511748434, 15.4625402968), (-24.0090137178, 18.4227641804))
        make_face()
        with BuildLine():
            Line((-23.2657806219, 9.6370018728), (-21.9970452561, 12.7))
            ThreePointArc((-21.9970452561, 12.7), (-22.7805676349, 11.2341327316), (-23.4665401258, 9.7201591821))
            Line((-23.4665401258, 9.7201591821), (-23.2657806219, 9.6370018728))
        make_face()
        with BuildLine():
            ThreePointArc((-20.1511748434, 15.4625402968), (-21.1193281525, 14.1114839187), (-21.9970452561, 12.7))
            Line((-21.9970452561, 12.7), (-19.9787787491, 15.3302561211))
            Line((-19.9787787491, 15.3302561211), (-20.1511748434, 15.4625402968))
        make_face()
        with BuildLine():
            ThreePointArc((-23.4665401258, 9.7201591821), (-22.7805676349, 11.2341327316), (-21.9970452561, 12.7))
            Line((-21.9970452561, 12.7), (-27.9590886471, 11.5810337092))
            Line((-27.9590886471, 11.5810337092), (-23.4665401258, 9.7201591821))
        make_face()
        with BuildLine():
            Line((-18.4227641804, 24.0090137178), (-17.9605122421, 17.9605122421))
            ThreePointArc((-17.9605122421, 17.9605122421), (-16.7473837035, 19.09673111), (-15.4625402968, 20.1511748434))
            Line((-15.4625402968, 20.1511748434), (-18.4227641804, 24.0090137178))
        make_face()
        with BuildLine():
            Line((-19.9787787491, 15.3302561211), (-17.9605122421, 17.9605122421))
            ThreePointArc((-17.9605122421, 17.9605122421), (-19.09673111, 16.7473837035), (-20.1511748434, 15.4625402968))
            Line((-20.1511748434, 15.4625402968), (-19.9787787491, 15.3302561211))
        make_face()
        with BuildLine():
            ThreePointArc((-15.4625402968, 20.1511748434), (-16.7473837035, 19.09673111), (-17.9605122421, 17.9605122421))
            Line((-17.9605122421, 17.9605122421), (-15.3302561211, 19.9787787491))
            Line((-15.3302561211, 19.9787787491), (-15.4625402968, 20.1511748434))
        make_face()
        with BuildLine():
            ThreePointArc((-20.1511748434, 15.4625402968), (-19.09673111, 16.7473837035), (-17.9605122421, 17.9605122421))
            Line((-17.9605122421, 17.9605122421), (-24.0090137178, 18.4227641804))
            Line((-24.0090137178, 18.4227641804), (-20.1511748434, 15.4625402968))
        make_face()
        with BuildLine():
            Line((-11.5810337092, 27.9590886471), (-12.7, 21.9970452561))
            ThreePointArc((-12.7, 21.9970452561), (-11.2341327316, 22.7805676349), (-9.7201591821, 23.4665401258))
            Line((-9.7201591821, 23.4665401258), (-11.5810337092, 27.9590886471))
        make_face()
        with BuildLine():
            Line((-15.3302561211, 19.9787787491), (-12.7, 21.9970452561))
            ThreePointArc((-12.7, 21.9970452561), (-14.1114839187, 21.1193281525), (-15.4625402968, 20.1511748434))
            Line((-15.4625402968, 20.1511748434), (-15.3302561211, 19.9787787491))
        make_face()
        with BuildLine():
            ThreePointArc((-9.7201591821, 23.4665401258), (-11.2341327316, 22.7805676349), (-12.7, 21.9970452561))
            Line((-12.7, 21.9970452561), (-9.6370018728, 23.2657806219))
            Line((-9.6370018728, 23.2657806219), (-9.7201591821, 23.4665401258))
        make_face()
        with BuildLine():
            ThreePointArc((-15.4625402968, 20.1511748434), (-14.1114839187, 21.1193281525), (-12.7, 21.9970452561))
            Line((-12.7, 21.9970452561), (-18.4227641804, 24.0090137178))
            Line((-18.4227641804, 24.0090137178), (-15.4625402968, 20.1511748434))
        make_face()
        with BuildLine():
            Line((-3.9500749293, 30.0037978897), (-6.5740037456, 24.5345159877))
            ThreePointArc((-6.5740037456, 24.5345159877), (-4.9552941792, 24.9119461222), (-3.3153652824, 25.1826994789))
            Line((-3.3153652824, 25.1826994789), (-3.9500749293, 30.0037978897))
        make_face()
        with BuildLine():
            Line((-9.6370018728, 23.2657806219), (-6.5740037456, 24.5345159877))
            ThreePointArc((-6.5740037456, 24.5345159877), (-8.1645624187, 24.0520252892), (-9.7201591821, 23.4665401258))
            Line((-9.7201591821, 23.4665401258), (-9.6370018728, 23.2657806219))
        make_face()
        with BuildLine():
            ThreePointArc((-3.3153652824, 25.1826994789), (-4.9552941792, 24.9119461222), (-6.5740037456, 24.5345159877))
            Line((-6.5740037456, 24.5345159877), (-3.2870018728, 24.9672579939))
            Line((-3.2870018728, 24.9672579939), (-3.3153652824, 25.1826994789))
        make_face()
        with BuildLine():
            ThreePointArc((-9.7201591821, 23.4665401258), (-8.1645624187, 24.0520252892), (-6.5740037456, 24.5345159877))
            Line((-6.5740037456, 24.5345159877), (-11.5810337092, 27.9590886471))
            Line((-11.5810337092, 27.9590886471), (-9.7201591821, 23.4665401258))
        make_face()
    extrude(amount=F1_DEPTH)

    # F2 (on face) → F3 (join)
    with BuildSketch(Plane.XZ.offset(25.4)):
        Circle(F2_R)
    extrude(amount=F3_DEPTH)

    # F4 (on face) → F5 (join)
    with BuildSketch(Plane(origin=(0, 0, 0), x_dir=(-1, 0, 0), z_dir=(0, 1, 0))):
        Circle(F4_R)
    extrude(amount=F5_DEPTH)


solid = f1.part
